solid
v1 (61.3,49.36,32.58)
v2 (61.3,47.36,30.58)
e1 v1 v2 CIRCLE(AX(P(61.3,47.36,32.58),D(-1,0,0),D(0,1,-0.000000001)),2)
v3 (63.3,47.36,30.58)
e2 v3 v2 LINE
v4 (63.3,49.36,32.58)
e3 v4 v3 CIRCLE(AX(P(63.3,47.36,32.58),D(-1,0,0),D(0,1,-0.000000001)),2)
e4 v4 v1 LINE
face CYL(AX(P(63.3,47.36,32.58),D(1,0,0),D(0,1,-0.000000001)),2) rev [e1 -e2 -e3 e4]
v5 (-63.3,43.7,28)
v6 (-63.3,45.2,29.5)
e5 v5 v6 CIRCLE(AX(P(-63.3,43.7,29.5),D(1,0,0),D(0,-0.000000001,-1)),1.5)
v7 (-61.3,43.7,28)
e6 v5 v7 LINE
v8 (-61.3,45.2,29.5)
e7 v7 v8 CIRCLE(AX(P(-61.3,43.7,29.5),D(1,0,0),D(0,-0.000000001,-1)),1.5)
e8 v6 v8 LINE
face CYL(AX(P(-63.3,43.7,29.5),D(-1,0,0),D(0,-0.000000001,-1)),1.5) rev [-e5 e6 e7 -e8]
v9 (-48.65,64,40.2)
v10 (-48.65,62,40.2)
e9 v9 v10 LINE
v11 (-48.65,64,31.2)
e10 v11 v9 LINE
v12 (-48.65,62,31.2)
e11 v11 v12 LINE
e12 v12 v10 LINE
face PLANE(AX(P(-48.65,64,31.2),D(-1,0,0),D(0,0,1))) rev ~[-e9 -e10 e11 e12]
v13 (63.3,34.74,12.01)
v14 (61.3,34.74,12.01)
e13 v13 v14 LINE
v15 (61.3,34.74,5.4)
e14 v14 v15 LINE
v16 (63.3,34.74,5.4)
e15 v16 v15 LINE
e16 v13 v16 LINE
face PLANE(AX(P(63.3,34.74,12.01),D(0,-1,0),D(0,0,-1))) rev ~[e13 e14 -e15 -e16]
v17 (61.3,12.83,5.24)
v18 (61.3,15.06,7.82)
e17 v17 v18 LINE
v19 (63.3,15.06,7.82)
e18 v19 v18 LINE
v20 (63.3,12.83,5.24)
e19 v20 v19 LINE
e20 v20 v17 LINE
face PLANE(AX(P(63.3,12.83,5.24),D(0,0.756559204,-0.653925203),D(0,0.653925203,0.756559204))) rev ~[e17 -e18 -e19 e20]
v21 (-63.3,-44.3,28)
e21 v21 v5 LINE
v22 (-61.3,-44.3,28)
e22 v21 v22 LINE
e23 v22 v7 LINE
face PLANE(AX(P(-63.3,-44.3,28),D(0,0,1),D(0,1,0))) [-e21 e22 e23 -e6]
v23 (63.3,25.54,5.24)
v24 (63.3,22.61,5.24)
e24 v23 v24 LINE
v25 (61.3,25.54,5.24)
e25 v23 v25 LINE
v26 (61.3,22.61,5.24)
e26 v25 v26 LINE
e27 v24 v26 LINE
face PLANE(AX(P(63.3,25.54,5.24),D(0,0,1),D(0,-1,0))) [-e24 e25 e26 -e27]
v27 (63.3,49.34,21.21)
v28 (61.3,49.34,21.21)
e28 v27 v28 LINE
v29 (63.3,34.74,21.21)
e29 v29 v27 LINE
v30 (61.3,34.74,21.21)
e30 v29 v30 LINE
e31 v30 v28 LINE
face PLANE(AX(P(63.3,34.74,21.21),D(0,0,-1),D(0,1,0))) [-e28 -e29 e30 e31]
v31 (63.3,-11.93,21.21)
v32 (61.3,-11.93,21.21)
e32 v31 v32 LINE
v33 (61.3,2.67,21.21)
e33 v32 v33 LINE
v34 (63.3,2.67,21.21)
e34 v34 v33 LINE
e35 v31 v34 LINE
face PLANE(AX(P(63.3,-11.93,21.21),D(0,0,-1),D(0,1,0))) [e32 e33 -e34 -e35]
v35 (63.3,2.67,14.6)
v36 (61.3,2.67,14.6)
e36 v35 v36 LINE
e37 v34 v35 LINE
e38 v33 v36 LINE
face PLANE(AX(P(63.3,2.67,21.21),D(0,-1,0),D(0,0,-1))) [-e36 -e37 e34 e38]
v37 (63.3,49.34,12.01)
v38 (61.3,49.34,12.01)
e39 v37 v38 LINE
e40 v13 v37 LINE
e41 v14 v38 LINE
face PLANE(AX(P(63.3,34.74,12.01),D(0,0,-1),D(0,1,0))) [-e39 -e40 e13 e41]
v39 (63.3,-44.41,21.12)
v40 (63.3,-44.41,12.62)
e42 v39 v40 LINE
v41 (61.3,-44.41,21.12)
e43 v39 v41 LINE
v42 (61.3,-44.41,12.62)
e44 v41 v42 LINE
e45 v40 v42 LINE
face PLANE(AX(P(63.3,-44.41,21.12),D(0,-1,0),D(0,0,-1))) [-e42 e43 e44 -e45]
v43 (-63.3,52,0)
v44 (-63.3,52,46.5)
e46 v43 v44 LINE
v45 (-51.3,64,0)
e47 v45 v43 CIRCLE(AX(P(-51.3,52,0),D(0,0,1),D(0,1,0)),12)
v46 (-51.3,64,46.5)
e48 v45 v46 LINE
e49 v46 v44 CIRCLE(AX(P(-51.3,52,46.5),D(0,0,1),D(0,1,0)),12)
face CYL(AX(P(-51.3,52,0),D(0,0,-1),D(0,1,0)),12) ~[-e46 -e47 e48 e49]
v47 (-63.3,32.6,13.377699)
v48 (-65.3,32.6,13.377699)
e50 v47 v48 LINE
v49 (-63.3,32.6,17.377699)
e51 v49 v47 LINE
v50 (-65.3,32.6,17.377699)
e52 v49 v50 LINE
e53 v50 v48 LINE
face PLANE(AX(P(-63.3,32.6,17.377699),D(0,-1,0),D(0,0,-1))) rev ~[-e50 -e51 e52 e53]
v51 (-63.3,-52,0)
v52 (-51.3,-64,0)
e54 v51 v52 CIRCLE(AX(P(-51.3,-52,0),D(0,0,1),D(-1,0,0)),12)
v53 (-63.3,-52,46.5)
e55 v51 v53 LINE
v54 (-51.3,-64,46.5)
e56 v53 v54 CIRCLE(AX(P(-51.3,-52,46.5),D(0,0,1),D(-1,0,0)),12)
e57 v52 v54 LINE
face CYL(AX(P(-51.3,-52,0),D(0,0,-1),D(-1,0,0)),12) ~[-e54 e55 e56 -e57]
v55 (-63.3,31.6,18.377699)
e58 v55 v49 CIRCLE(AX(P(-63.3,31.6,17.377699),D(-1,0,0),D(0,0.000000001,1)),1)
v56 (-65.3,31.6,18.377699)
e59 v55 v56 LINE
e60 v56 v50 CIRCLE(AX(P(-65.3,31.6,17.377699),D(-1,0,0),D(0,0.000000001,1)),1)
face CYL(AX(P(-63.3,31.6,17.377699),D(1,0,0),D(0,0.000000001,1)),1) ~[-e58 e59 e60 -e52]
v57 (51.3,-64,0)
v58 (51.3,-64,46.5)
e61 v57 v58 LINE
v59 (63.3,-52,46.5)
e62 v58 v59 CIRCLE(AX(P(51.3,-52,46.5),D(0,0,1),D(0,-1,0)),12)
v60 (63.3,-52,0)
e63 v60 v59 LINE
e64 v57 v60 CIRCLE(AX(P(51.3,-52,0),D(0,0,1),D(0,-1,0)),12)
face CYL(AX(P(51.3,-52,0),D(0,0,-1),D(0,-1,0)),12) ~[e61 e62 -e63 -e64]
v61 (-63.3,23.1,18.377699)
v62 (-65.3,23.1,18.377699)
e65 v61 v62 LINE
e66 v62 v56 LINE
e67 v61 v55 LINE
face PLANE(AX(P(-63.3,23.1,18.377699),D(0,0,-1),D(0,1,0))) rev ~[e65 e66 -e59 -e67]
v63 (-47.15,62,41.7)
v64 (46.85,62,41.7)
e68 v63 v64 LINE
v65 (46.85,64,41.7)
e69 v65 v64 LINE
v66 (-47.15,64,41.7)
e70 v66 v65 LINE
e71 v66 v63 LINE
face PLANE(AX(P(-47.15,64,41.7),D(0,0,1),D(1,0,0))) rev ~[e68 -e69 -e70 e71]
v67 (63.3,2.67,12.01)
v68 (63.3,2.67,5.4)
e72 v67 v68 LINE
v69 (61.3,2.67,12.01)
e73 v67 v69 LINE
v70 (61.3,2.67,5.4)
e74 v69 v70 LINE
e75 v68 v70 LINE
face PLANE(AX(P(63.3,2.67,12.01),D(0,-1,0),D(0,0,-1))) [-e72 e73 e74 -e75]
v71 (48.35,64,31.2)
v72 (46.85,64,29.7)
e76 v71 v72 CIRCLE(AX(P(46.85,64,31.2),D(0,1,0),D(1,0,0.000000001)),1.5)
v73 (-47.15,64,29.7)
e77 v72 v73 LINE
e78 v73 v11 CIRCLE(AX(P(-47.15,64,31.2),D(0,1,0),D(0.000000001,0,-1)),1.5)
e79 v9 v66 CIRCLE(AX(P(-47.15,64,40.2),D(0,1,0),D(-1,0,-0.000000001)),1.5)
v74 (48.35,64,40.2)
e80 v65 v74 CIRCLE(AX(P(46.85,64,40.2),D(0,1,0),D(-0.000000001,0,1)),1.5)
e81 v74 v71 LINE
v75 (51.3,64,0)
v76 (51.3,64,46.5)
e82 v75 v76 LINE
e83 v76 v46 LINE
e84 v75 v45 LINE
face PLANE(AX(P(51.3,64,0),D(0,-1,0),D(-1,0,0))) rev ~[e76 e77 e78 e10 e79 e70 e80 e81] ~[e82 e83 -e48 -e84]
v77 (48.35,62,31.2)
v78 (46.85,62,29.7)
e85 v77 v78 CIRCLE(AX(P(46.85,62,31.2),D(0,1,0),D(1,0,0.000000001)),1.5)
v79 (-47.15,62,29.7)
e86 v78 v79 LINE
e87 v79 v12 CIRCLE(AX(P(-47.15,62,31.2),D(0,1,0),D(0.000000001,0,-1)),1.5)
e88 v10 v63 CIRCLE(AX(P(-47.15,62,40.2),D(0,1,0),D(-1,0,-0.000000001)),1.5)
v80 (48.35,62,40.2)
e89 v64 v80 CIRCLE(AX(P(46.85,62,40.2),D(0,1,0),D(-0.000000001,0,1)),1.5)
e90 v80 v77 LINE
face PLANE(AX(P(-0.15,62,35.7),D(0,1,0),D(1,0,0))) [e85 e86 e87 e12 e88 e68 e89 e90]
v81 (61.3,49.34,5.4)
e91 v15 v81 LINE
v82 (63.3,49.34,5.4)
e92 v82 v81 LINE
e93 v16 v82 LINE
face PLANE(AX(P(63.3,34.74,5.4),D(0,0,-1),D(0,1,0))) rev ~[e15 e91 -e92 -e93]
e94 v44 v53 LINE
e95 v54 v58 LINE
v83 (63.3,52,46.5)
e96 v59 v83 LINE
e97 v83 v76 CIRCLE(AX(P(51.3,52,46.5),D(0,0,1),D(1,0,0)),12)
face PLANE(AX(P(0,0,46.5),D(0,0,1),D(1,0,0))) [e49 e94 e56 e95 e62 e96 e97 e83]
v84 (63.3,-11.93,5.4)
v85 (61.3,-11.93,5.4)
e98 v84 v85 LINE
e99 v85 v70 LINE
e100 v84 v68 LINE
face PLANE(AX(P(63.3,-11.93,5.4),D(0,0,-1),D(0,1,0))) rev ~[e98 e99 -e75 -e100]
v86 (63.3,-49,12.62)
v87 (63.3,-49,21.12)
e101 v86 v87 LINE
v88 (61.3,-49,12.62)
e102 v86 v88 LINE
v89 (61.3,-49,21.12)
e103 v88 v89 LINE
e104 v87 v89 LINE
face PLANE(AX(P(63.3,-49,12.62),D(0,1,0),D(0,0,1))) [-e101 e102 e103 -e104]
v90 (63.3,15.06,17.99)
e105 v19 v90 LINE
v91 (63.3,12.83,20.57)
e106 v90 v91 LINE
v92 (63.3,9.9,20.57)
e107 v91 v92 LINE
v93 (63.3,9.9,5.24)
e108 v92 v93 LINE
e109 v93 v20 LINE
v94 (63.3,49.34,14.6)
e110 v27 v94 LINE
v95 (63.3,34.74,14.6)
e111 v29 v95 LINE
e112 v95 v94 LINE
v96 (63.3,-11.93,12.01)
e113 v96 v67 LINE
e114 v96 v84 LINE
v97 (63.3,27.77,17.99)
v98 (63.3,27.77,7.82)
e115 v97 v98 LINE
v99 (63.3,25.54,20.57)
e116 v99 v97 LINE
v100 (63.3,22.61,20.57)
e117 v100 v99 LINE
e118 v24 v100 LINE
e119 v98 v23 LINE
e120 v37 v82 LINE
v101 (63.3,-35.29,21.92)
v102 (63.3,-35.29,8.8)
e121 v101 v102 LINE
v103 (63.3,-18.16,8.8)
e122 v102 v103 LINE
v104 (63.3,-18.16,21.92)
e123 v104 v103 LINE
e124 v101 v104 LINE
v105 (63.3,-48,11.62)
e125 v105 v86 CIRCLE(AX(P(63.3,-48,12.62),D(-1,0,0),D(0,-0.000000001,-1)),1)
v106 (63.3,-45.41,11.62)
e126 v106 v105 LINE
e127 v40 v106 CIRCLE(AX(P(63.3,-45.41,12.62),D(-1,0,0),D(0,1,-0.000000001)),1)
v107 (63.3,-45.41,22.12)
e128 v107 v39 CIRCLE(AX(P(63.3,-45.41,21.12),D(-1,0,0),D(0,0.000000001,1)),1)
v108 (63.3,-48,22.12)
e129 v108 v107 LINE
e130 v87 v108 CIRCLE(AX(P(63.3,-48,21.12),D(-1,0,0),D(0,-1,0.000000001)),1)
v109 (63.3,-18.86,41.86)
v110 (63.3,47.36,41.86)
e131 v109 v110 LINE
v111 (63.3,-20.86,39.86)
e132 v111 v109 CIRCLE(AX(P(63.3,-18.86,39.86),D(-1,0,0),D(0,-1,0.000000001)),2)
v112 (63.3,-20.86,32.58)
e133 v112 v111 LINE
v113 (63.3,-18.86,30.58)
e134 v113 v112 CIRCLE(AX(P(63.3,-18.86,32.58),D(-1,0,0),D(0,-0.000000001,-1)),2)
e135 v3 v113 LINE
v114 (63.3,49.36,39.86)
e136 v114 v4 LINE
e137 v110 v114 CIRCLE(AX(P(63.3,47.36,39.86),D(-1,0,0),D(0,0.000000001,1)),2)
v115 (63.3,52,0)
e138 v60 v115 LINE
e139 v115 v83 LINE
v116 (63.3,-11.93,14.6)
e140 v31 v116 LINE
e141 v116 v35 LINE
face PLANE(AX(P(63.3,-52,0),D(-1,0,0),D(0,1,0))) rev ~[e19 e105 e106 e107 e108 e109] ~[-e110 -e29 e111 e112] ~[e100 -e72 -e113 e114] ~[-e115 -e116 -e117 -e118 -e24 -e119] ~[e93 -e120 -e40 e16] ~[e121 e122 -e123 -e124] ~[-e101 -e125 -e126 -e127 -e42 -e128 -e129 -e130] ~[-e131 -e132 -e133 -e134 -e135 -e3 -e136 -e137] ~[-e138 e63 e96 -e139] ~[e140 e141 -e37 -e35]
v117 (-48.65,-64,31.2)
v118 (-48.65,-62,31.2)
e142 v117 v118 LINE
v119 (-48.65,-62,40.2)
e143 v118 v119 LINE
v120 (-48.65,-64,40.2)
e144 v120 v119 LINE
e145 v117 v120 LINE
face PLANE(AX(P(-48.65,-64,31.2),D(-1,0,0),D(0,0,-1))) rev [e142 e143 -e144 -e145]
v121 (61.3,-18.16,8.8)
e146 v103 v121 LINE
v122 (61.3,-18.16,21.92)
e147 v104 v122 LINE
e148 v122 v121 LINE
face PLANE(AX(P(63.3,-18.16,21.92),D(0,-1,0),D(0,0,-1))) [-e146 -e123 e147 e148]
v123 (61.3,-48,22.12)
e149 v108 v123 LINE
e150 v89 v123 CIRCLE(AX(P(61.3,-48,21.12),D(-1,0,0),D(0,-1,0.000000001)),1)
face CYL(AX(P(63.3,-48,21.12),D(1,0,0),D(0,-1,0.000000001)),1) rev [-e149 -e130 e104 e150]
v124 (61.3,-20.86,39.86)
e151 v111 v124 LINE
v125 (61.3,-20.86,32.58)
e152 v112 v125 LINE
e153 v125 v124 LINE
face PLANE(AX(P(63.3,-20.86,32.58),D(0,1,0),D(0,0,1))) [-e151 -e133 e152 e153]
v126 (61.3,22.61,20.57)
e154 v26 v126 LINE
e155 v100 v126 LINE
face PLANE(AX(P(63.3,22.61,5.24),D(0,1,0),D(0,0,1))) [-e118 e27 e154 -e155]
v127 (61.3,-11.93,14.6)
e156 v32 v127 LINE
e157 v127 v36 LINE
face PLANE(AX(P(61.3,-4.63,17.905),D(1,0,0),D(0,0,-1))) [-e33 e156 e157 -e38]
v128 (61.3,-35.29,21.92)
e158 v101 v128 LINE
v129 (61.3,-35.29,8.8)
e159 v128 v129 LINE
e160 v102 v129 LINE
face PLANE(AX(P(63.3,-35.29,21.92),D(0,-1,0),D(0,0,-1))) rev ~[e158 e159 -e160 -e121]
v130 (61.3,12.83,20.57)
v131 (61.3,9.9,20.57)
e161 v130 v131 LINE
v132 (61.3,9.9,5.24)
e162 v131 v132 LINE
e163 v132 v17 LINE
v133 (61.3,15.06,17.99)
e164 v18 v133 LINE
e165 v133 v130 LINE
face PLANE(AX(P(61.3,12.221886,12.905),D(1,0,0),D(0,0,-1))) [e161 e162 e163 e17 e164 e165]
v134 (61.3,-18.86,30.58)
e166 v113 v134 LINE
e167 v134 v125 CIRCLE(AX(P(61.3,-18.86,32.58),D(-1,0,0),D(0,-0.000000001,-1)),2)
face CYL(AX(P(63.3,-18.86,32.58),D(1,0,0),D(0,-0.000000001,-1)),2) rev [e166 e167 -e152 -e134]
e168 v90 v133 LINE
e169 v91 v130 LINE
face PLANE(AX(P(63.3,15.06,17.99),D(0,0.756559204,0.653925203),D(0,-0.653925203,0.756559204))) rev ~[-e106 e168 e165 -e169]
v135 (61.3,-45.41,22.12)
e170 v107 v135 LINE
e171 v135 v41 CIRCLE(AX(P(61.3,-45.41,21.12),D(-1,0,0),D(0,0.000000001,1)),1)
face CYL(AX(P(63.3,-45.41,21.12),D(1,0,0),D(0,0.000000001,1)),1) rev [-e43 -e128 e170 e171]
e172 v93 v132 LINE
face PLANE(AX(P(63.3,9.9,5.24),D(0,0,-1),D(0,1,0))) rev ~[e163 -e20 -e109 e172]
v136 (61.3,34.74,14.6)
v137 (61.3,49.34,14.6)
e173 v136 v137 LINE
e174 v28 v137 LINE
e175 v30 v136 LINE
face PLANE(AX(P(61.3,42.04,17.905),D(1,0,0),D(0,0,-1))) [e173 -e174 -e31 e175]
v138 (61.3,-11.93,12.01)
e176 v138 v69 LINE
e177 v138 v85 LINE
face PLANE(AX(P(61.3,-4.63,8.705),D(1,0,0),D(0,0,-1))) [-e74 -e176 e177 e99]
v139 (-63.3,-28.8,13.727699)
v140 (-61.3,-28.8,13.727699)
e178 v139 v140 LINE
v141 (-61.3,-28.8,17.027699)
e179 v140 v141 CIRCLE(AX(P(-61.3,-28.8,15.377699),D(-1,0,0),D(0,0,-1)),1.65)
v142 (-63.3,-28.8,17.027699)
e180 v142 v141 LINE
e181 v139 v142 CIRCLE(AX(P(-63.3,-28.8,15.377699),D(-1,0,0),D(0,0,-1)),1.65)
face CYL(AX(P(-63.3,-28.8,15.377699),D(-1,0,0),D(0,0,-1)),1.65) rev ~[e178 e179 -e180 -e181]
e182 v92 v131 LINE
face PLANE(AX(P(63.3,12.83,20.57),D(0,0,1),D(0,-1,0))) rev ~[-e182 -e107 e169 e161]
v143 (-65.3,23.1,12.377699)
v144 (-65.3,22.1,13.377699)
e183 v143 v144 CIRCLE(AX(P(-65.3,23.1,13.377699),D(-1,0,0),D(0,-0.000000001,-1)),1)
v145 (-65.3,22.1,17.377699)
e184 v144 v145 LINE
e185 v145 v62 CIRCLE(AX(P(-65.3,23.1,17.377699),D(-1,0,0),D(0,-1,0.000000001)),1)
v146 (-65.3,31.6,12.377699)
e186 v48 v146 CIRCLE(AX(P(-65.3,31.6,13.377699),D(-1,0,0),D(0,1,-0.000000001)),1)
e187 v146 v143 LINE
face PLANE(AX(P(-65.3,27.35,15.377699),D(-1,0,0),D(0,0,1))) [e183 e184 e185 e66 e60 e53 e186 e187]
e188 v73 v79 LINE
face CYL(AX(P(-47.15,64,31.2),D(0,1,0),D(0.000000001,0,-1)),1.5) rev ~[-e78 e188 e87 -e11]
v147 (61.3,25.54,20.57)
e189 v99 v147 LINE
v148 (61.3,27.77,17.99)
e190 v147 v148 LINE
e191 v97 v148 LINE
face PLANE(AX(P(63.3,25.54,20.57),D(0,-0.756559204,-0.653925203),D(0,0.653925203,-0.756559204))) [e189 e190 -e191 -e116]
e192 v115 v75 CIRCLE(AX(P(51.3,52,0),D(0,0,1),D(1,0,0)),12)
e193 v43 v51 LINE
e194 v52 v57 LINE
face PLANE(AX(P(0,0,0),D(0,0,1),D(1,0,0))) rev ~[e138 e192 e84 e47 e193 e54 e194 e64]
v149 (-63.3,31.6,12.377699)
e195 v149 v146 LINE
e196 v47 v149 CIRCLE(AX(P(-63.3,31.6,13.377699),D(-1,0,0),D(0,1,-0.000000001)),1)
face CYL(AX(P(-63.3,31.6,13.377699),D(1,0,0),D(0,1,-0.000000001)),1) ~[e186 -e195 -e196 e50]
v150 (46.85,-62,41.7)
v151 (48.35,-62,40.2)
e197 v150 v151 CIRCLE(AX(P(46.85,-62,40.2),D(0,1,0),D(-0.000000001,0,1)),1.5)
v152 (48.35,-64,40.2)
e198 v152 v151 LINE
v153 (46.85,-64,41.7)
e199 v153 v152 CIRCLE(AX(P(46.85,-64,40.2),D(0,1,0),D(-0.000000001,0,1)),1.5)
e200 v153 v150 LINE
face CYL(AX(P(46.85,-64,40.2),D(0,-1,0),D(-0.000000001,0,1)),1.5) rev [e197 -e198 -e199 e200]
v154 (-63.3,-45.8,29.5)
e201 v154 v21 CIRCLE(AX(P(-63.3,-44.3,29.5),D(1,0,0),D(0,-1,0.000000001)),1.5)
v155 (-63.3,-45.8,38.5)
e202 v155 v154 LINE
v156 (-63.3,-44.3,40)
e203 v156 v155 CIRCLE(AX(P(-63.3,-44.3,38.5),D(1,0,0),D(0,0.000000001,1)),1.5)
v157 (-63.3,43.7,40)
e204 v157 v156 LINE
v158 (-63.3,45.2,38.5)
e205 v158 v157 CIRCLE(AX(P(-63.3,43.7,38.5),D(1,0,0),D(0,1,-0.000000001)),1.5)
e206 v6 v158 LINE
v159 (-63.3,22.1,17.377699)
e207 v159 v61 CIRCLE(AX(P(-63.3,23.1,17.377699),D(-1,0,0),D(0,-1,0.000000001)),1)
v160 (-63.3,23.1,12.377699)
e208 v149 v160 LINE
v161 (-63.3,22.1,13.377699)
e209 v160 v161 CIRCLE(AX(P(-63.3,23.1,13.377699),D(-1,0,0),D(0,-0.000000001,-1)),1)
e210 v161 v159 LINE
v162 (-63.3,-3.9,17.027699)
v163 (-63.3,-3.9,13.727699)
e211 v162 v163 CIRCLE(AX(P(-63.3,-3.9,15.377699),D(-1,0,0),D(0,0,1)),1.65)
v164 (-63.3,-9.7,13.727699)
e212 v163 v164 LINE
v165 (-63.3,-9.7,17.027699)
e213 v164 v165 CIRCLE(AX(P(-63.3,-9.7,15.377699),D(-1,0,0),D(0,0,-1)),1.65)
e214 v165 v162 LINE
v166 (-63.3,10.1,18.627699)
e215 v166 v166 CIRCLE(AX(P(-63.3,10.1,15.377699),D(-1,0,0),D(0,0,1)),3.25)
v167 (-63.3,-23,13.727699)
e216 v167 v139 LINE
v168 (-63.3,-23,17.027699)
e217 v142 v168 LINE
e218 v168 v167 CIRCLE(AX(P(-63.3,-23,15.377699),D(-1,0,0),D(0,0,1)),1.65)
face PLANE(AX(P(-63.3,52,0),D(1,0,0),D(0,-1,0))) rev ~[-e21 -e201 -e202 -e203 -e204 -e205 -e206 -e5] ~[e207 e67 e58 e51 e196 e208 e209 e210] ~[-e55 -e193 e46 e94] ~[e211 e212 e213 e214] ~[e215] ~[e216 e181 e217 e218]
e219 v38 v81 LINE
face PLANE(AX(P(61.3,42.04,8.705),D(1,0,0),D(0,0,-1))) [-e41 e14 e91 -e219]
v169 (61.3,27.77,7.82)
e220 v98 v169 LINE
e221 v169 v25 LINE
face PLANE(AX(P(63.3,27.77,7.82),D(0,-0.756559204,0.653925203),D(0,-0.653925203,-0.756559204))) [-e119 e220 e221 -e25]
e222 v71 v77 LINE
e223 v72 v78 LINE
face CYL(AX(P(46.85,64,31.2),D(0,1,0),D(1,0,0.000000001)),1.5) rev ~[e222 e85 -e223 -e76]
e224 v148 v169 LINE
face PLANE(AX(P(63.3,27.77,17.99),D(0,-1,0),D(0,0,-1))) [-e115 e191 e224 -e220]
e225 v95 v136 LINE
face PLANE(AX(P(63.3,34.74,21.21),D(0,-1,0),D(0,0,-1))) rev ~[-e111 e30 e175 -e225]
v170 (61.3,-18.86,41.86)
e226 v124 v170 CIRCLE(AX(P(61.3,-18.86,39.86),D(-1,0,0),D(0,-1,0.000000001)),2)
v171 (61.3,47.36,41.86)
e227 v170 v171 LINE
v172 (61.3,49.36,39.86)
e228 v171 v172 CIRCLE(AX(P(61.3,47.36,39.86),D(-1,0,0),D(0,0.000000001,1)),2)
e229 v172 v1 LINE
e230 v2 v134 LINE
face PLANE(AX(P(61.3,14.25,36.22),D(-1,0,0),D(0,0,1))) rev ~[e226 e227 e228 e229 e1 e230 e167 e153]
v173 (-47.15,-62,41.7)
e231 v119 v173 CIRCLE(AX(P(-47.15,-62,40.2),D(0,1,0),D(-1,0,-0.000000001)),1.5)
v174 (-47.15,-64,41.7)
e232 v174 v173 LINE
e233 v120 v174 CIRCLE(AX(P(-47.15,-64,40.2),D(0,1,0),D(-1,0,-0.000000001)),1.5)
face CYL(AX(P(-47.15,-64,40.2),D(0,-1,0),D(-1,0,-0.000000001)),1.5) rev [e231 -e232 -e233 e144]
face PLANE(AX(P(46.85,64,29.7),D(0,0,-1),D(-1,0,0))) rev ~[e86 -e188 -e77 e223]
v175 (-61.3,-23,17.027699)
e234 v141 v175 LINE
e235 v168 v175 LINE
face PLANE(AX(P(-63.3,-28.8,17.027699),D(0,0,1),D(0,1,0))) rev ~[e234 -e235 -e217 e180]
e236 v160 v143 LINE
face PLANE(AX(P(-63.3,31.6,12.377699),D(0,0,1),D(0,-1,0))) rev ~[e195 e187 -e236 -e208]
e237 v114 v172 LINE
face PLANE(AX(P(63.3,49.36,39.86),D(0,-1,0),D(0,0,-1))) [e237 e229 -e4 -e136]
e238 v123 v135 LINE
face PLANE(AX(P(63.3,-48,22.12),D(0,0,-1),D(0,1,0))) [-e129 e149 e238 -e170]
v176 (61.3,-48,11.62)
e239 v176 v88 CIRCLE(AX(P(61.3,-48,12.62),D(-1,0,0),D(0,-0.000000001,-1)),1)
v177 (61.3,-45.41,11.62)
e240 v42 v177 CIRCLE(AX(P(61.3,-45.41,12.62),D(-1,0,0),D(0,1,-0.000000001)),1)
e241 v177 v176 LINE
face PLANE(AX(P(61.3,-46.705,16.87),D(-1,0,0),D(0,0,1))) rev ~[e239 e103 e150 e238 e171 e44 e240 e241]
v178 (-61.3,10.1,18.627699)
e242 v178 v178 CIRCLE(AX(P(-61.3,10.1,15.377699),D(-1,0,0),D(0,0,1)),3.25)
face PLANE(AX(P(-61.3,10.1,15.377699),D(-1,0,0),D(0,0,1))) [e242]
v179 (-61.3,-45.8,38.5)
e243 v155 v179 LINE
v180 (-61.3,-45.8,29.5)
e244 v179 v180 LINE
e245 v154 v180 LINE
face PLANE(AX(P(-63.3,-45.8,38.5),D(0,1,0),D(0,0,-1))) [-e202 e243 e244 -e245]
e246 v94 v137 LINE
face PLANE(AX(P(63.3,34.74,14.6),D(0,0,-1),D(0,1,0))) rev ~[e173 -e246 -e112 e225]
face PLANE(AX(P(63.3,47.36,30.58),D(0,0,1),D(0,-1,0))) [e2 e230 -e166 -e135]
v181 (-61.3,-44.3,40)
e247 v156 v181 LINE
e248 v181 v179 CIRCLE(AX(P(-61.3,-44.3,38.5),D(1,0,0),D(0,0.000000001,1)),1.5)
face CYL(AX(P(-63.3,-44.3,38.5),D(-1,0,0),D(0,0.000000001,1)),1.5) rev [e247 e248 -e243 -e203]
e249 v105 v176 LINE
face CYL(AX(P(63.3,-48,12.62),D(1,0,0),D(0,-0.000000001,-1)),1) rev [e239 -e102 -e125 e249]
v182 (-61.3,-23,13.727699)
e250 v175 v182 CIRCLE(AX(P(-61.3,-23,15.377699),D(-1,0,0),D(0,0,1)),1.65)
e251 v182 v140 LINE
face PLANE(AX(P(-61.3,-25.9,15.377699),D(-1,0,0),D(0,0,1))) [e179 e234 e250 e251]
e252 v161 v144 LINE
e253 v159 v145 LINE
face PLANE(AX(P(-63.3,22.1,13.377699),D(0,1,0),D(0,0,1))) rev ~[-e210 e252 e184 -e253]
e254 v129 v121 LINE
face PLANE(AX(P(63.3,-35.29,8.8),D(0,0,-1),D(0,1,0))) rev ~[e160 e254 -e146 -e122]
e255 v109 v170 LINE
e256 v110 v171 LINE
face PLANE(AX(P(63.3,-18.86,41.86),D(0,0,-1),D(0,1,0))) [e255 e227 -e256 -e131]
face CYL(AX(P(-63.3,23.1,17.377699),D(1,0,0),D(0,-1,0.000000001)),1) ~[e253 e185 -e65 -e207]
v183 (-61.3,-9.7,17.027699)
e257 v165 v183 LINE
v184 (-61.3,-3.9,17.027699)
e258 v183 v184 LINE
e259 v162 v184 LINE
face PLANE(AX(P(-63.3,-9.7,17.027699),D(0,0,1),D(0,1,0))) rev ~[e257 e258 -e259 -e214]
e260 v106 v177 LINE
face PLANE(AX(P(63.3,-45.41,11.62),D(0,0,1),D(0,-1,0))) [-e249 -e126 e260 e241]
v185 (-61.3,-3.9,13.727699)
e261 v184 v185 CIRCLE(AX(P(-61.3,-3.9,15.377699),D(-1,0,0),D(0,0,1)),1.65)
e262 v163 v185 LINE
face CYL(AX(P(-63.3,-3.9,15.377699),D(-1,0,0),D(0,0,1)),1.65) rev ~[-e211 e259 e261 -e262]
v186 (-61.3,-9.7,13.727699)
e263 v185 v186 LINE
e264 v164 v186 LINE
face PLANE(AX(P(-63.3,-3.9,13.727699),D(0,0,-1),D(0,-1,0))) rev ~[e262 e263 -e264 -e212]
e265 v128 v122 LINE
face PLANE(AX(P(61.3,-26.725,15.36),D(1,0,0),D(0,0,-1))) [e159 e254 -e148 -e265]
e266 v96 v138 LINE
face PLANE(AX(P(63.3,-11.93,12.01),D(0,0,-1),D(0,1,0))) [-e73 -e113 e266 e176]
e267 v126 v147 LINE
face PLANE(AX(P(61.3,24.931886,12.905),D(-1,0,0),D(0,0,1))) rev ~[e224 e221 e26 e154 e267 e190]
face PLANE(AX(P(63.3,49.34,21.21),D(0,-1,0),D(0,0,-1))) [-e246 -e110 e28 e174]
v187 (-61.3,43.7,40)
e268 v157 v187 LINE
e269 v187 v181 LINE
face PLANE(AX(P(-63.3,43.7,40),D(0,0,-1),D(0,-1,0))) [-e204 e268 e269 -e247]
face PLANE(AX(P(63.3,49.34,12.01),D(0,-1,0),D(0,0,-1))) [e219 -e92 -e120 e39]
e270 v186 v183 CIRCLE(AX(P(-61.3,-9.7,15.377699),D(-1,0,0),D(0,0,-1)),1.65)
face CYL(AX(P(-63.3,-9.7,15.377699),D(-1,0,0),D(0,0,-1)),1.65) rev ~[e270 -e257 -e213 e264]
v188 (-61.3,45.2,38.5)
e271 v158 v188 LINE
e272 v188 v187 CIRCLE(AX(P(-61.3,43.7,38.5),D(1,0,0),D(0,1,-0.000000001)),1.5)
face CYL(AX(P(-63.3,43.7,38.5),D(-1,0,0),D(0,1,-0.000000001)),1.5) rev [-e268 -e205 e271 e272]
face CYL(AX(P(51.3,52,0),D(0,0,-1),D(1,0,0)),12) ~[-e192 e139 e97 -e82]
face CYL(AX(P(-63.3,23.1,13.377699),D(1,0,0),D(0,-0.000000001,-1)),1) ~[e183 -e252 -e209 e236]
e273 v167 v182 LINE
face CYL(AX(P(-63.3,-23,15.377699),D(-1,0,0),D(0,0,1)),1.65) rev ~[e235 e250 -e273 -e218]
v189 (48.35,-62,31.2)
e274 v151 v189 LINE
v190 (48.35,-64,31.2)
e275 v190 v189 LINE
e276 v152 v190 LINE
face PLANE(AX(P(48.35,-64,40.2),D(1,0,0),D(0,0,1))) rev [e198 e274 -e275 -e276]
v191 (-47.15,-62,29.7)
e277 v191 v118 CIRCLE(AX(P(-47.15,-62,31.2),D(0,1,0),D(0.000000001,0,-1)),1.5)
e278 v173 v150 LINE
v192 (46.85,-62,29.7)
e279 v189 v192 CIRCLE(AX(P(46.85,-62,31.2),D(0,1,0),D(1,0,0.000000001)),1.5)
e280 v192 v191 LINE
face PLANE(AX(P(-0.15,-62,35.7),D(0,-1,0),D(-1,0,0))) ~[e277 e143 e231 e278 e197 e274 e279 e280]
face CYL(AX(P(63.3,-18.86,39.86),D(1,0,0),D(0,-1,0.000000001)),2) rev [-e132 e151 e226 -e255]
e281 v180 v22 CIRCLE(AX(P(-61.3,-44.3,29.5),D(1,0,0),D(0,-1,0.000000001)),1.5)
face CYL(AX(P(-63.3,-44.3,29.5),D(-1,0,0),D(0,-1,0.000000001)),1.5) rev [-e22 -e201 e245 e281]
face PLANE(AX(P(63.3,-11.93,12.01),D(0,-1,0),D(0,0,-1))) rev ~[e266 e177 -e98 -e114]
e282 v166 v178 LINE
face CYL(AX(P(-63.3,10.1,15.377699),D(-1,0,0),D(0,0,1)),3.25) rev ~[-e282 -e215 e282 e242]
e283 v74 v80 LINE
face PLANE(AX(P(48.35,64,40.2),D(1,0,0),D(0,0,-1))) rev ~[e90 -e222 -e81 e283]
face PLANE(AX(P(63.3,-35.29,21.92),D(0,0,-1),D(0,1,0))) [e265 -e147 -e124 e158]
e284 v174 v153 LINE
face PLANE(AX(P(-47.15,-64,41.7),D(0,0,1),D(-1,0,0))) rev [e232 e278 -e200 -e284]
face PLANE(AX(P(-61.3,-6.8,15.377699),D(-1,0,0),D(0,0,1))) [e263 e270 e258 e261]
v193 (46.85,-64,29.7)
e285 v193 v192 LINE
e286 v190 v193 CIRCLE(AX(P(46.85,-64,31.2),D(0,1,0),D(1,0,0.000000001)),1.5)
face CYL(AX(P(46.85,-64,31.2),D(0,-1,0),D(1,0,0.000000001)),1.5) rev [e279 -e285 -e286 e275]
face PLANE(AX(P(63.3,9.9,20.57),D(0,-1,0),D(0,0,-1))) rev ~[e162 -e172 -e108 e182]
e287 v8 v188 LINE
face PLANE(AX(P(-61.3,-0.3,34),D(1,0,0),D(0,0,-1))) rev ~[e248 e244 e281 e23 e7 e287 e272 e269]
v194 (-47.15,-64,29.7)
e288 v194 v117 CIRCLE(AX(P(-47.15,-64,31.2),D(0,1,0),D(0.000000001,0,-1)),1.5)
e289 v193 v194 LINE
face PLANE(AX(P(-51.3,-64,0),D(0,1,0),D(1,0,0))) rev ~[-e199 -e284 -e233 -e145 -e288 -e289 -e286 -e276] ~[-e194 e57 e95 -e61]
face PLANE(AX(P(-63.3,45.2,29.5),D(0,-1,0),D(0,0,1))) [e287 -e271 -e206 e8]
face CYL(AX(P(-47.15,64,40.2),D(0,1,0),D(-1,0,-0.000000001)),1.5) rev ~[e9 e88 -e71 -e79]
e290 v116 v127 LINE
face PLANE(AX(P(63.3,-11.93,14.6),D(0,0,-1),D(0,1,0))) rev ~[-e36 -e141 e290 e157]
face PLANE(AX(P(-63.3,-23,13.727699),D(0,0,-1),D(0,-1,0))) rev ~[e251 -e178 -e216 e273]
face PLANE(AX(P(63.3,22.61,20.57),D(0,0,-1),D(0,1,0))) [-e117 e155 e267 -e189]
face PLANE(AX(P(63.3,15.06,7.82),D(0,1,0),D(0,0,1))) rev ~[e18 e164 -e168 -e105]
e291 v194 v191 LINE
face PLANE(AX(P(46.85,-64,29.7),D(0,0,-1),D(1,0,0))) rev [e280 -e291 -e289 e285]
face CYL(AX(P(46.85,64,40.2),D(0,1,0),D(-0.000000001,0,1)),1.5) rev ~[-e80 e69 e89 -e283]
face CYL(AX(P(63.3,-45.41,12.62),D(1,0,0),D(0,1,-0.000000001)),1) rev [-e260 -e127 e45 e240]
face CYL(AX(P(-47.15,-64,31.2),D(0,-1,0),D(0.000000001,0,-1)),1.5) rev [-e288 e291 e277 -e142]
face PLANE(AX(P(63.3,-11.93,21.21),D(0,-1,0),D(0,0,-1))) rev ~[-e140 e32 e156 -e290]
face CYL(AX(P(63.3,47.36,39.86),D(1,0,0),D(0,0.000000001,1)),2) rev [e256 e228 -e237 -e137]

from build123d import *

# Parameters (mm, degrees)
DODANIE_WYCI_GNI_CIE1_DEPTH = 46.5
WYTNIJ_WYCI_GNI_CIE1_DEPTH  = 2
SZKIC3_R                    = 3.25
WYTNIJ_WYCI_GNI_CIE2_DEPTH  = 2
DODANIE_WYCI_GNI_CIE2_DEPTH = 2
SZKIC5_W                    = 6.61
SZKIC5_H                    = 14.6
SZKIC5_W_2                  = 13.12
SZKIC5_H_2                  = 17.13
WYTNIJ_WYCI_GNI_CIE3_DEPTH  = 2


with BuildPart() as part:
    # Szkic1 → Dodanie-wyciągnięcie1 (new body)
    with BuildSketch(Plane.XY):
        with BuildLine():
            Line((-51.3, -64), (51.3, -64))
            ThreePointArc((51.3, -64), (59.785281374, -60.485281374), (63.3, -52))
            Line((63.3, -52), (63.3, 52))
            ThreePointArc((63.3, 52), (59.785281374, 60.485281374), (51.3, 64))
            Line((51.3, 64), (-51.3, 64))
            ThreePointArc((-51.3, 64), (-59.785281374, 60.485281374), (-63.3, 52))
            Line((-63.3, 52), (-63.3, -52))
            ThreePointArc((-63.3, -52), (-59.785281374, -60.485281374), (-51.3, -64))
        make_face()
    extrude(amount=DODANIE_WYCI_GNI_CIE1_DEPTH)

    # Szkic2 → Wytnij-wyciągnięcie1 (cut)
    with BuildSketch(Plane(origin=(0, 64, 0), x_dir=(1, 0, 0), z_dir=(0, 1, 0))):
        with BuildLine():
            Line((-48.65, -31.2), (-48.65, -40.2))
            ThreePointArc((-48.65, -40.2), (-48.210660172, -41.260660172), (-47.15, -41.7))
            Line((-47.15, -41.7), (46.85, -41.7))
            ThreePointArc((46.85, -41.7), (47.910660172, -41.260660172), (48.35, -40.2))
            Line((48.35, -40.2), (48.35, -31.2))
            ThreePointArc((48.35, -31.2), (47.910660172, -30.139339828), (46.85, -29.7))
            Line((46.85, -29.7), (-47.15, -29.7))
            ThreePointArc((-47.15, -29.7), (-48.210660172, -30.139339828), (-48.65, -31.2))
        make_face()
    wytnij_wyci_gni_cie1 = extrude(amount=-WYTNIJ_WYCI_GNI_CIE1_DEPTH, mode=Mode.SUBTRACT)

    # Szkic3 → Wytnij-wyciągnięcie2 (cut)
    with BuildSketch(Plane.ZY.offset(63.3)):
        with BuildLine():
            ThreePointArc((28, -44.3), (28.439339828, -45.360660172), (29.5, -45.8))
            Line((29.5, -45.8), (38.5, -45.8))
            ThreePointArc((38.5, -45.8), (39.560660172, -45.360660172), (40, -44.3))
            Line((40, -44.3), (40, 43.7))
            ThreePointArc((40, 43.7), (39.560660172, 44.760660172), (38.5, 45.2))
            Line((38.5, 45.2), (29.5, 45.2))
            ThreePointArc((29.5, 45.2), (28.439339828, 44.760660172), (28, 43.7))
            Line((28, 43.7), (28, -44.3))
        make_face()
        with BuildLine():
            Line((17.02769909, -28.8), (17.02769909, -23))
            ThreePointArc((17.02769909, -23), (15.37769909, -21.35), (13.72769909, -23))
            Line((13.72769909, -23), (13.72769909, -28.8))
            ThreePointArc((13.72769909, -28.8), (15.37769909, -30.45), (17.02769909, -28.8))
        make_face()
        with BuildLine():
            Line((17.02769909, -9.7), (17.02769909, -3.9))
            ThreePointArc((17.02769909, -3.9), (15.37769909, -2.25), (13.72769909, -3.9))
            Line((13.72769909, -3.9), (13.72769909, -9.7))
            ThreePointArc((13.72769909, -9.7), (15.37769909, -11.35), (17.02769909, -9.7))
        make_face()
        with Locations((15.37769909, 10.1)):
            Circle(SZKIC3_R)
    extrude(amount=-WYTNIJ_WYCI_GNI_CIE2_DEPTH, mode=Mode.SUBTRACT)

    # Szkic3<3> → Dodanie-wyciągnięcie2 (add)
    with BuildSketch(Plane.ZY.offset(63.3)):
        with BuildLine():
            Line((17.37769909, 32.6), (13.37769909, 32.6))
            ThreePointArc((13.37769909, 32.6), (12.670592309, 32.307106781), (12.37769909, 31.6))
            Line((12.37769909, 31.6), (12.37769909, 23.1))
            ThreePointArc((12.37769909, 23.1), (12.670592309, 22.392893219), (13.37769909, 22.1))
            Line((13.37769909, 22.1), (17.37769909, 22.1))
            ThreePointArc((17.37769909, 22.1), (18.084805871, 22.392893219), (18.37769909, 23.1))
            Line((18.37769909, 23.1), (18.37769909, 31.6))
            ThreePointArc((18.37769909, 31.6), (18.084805871, 32.307106781), (17.37769909, 32.6))
        make_face()
    extrude(amount=DODANIE_WYCI_GNI_CIE2_DEPTH)

    # Lustro1: Wytnij-wyciągnięcie1 across plane
    add(wytnij_wyci_gni_cie1.mirror(Plane.ZX), mode=Mode.SUBTRACT)

    # Szkic5 → Wytnij-wyciągnięcie3 (cut)
    with BuildSketch(Plane(origin=(63.3, 0, 0), x_dir=(0, 0, -1), z_dir=(1, 0, 0))):
        with BuildLine():
            Line((-39.86, 49.36), (-32.58, 49.36))
            ThreePointArc((-32.58, 49.36), (-31.165786438, 48.774213562), (-30.58, 47.36))
            Line((-30.58, 47.36), (-30.58, -18.86))
            ThreePointArc((-30.58, -18.86), (-31.165786438, -20.274213562), (-32.58, -20.86))
            Line((-32.58, -20.86), (-39.86, -20.86))
            ThreePointArc((-39.86, -20.86), (-41.274213562, -20.274213562), (-41.86, -18.86))
            Line((-41.86, -18.86), (-41.86, 47.36))
            ThreePointArc((-41.86, 47.36), (-41.274213562, 48.774213562), (-39.86, 49.36))
        make_face()
        with BuildLine():
            Line((-21.12, -44.41), (-12.62, -44.41))
            ThreePointArc((-12.62, -44.41), (-11.912893219, -44.702893219), (-11.62, -45.41))
            Line((-11.62, -45.41), (-11.62, -48))
            ThreePointArc((-11.62, -48), (-11.912893219, -48.707106781), (-12.62, -49))
            Line((-12.62, -49), (-21.12, -49))
            ThreePointArc((-21.12, -49), (-21.827106781, -48.707106781), (-22.12, -48))
            Line((-22.12, -48), (-22.12, -45.41))
            ThreePointArc((-22.12, -45.41), (-21.827106781, -44.702893219), (-21.12, -44.41))
        make_face()
        with Locations((-8.705, -4.63)):
            Rectangle(SZKIC5_W, SZKIC5_H)
        with Locations((-15.36, -26.725)):
            Rectangle(SZKIC5_W_2, SZKIC5_H_2)
        with Locations((-17.905, -4.63)):
            Rectangle(SZKIC5_W, SZKIC5_H)
        Polygon((-20.57, 9.9), (-5.24, 9.9), (-5.24, 12.83), (-7.82, 15.06), (-17.99, 15.06), (-20.57, 12.83), align=None)
        Polygon((-7.82, 27.77), (-5.24, 25.54), (-5.24, 22.61), (-20.57, 22.61), (-20.57, 25.54), (-17.99, 27.77), align=None)
        with Locations((-17.905, 42.04)):
            Rectangle(SZKIC5_W, SZKIC5_H)
        with Locations((-8.705, 42.04)):
            Rectangle(SZKIC5_W, SZKIC5_H)
    extrude(amount=-WYTNIJ_WYCI_GNI_CIE3_DEPTH, mode=Mode.SUBTRACT)


solid = part.part
